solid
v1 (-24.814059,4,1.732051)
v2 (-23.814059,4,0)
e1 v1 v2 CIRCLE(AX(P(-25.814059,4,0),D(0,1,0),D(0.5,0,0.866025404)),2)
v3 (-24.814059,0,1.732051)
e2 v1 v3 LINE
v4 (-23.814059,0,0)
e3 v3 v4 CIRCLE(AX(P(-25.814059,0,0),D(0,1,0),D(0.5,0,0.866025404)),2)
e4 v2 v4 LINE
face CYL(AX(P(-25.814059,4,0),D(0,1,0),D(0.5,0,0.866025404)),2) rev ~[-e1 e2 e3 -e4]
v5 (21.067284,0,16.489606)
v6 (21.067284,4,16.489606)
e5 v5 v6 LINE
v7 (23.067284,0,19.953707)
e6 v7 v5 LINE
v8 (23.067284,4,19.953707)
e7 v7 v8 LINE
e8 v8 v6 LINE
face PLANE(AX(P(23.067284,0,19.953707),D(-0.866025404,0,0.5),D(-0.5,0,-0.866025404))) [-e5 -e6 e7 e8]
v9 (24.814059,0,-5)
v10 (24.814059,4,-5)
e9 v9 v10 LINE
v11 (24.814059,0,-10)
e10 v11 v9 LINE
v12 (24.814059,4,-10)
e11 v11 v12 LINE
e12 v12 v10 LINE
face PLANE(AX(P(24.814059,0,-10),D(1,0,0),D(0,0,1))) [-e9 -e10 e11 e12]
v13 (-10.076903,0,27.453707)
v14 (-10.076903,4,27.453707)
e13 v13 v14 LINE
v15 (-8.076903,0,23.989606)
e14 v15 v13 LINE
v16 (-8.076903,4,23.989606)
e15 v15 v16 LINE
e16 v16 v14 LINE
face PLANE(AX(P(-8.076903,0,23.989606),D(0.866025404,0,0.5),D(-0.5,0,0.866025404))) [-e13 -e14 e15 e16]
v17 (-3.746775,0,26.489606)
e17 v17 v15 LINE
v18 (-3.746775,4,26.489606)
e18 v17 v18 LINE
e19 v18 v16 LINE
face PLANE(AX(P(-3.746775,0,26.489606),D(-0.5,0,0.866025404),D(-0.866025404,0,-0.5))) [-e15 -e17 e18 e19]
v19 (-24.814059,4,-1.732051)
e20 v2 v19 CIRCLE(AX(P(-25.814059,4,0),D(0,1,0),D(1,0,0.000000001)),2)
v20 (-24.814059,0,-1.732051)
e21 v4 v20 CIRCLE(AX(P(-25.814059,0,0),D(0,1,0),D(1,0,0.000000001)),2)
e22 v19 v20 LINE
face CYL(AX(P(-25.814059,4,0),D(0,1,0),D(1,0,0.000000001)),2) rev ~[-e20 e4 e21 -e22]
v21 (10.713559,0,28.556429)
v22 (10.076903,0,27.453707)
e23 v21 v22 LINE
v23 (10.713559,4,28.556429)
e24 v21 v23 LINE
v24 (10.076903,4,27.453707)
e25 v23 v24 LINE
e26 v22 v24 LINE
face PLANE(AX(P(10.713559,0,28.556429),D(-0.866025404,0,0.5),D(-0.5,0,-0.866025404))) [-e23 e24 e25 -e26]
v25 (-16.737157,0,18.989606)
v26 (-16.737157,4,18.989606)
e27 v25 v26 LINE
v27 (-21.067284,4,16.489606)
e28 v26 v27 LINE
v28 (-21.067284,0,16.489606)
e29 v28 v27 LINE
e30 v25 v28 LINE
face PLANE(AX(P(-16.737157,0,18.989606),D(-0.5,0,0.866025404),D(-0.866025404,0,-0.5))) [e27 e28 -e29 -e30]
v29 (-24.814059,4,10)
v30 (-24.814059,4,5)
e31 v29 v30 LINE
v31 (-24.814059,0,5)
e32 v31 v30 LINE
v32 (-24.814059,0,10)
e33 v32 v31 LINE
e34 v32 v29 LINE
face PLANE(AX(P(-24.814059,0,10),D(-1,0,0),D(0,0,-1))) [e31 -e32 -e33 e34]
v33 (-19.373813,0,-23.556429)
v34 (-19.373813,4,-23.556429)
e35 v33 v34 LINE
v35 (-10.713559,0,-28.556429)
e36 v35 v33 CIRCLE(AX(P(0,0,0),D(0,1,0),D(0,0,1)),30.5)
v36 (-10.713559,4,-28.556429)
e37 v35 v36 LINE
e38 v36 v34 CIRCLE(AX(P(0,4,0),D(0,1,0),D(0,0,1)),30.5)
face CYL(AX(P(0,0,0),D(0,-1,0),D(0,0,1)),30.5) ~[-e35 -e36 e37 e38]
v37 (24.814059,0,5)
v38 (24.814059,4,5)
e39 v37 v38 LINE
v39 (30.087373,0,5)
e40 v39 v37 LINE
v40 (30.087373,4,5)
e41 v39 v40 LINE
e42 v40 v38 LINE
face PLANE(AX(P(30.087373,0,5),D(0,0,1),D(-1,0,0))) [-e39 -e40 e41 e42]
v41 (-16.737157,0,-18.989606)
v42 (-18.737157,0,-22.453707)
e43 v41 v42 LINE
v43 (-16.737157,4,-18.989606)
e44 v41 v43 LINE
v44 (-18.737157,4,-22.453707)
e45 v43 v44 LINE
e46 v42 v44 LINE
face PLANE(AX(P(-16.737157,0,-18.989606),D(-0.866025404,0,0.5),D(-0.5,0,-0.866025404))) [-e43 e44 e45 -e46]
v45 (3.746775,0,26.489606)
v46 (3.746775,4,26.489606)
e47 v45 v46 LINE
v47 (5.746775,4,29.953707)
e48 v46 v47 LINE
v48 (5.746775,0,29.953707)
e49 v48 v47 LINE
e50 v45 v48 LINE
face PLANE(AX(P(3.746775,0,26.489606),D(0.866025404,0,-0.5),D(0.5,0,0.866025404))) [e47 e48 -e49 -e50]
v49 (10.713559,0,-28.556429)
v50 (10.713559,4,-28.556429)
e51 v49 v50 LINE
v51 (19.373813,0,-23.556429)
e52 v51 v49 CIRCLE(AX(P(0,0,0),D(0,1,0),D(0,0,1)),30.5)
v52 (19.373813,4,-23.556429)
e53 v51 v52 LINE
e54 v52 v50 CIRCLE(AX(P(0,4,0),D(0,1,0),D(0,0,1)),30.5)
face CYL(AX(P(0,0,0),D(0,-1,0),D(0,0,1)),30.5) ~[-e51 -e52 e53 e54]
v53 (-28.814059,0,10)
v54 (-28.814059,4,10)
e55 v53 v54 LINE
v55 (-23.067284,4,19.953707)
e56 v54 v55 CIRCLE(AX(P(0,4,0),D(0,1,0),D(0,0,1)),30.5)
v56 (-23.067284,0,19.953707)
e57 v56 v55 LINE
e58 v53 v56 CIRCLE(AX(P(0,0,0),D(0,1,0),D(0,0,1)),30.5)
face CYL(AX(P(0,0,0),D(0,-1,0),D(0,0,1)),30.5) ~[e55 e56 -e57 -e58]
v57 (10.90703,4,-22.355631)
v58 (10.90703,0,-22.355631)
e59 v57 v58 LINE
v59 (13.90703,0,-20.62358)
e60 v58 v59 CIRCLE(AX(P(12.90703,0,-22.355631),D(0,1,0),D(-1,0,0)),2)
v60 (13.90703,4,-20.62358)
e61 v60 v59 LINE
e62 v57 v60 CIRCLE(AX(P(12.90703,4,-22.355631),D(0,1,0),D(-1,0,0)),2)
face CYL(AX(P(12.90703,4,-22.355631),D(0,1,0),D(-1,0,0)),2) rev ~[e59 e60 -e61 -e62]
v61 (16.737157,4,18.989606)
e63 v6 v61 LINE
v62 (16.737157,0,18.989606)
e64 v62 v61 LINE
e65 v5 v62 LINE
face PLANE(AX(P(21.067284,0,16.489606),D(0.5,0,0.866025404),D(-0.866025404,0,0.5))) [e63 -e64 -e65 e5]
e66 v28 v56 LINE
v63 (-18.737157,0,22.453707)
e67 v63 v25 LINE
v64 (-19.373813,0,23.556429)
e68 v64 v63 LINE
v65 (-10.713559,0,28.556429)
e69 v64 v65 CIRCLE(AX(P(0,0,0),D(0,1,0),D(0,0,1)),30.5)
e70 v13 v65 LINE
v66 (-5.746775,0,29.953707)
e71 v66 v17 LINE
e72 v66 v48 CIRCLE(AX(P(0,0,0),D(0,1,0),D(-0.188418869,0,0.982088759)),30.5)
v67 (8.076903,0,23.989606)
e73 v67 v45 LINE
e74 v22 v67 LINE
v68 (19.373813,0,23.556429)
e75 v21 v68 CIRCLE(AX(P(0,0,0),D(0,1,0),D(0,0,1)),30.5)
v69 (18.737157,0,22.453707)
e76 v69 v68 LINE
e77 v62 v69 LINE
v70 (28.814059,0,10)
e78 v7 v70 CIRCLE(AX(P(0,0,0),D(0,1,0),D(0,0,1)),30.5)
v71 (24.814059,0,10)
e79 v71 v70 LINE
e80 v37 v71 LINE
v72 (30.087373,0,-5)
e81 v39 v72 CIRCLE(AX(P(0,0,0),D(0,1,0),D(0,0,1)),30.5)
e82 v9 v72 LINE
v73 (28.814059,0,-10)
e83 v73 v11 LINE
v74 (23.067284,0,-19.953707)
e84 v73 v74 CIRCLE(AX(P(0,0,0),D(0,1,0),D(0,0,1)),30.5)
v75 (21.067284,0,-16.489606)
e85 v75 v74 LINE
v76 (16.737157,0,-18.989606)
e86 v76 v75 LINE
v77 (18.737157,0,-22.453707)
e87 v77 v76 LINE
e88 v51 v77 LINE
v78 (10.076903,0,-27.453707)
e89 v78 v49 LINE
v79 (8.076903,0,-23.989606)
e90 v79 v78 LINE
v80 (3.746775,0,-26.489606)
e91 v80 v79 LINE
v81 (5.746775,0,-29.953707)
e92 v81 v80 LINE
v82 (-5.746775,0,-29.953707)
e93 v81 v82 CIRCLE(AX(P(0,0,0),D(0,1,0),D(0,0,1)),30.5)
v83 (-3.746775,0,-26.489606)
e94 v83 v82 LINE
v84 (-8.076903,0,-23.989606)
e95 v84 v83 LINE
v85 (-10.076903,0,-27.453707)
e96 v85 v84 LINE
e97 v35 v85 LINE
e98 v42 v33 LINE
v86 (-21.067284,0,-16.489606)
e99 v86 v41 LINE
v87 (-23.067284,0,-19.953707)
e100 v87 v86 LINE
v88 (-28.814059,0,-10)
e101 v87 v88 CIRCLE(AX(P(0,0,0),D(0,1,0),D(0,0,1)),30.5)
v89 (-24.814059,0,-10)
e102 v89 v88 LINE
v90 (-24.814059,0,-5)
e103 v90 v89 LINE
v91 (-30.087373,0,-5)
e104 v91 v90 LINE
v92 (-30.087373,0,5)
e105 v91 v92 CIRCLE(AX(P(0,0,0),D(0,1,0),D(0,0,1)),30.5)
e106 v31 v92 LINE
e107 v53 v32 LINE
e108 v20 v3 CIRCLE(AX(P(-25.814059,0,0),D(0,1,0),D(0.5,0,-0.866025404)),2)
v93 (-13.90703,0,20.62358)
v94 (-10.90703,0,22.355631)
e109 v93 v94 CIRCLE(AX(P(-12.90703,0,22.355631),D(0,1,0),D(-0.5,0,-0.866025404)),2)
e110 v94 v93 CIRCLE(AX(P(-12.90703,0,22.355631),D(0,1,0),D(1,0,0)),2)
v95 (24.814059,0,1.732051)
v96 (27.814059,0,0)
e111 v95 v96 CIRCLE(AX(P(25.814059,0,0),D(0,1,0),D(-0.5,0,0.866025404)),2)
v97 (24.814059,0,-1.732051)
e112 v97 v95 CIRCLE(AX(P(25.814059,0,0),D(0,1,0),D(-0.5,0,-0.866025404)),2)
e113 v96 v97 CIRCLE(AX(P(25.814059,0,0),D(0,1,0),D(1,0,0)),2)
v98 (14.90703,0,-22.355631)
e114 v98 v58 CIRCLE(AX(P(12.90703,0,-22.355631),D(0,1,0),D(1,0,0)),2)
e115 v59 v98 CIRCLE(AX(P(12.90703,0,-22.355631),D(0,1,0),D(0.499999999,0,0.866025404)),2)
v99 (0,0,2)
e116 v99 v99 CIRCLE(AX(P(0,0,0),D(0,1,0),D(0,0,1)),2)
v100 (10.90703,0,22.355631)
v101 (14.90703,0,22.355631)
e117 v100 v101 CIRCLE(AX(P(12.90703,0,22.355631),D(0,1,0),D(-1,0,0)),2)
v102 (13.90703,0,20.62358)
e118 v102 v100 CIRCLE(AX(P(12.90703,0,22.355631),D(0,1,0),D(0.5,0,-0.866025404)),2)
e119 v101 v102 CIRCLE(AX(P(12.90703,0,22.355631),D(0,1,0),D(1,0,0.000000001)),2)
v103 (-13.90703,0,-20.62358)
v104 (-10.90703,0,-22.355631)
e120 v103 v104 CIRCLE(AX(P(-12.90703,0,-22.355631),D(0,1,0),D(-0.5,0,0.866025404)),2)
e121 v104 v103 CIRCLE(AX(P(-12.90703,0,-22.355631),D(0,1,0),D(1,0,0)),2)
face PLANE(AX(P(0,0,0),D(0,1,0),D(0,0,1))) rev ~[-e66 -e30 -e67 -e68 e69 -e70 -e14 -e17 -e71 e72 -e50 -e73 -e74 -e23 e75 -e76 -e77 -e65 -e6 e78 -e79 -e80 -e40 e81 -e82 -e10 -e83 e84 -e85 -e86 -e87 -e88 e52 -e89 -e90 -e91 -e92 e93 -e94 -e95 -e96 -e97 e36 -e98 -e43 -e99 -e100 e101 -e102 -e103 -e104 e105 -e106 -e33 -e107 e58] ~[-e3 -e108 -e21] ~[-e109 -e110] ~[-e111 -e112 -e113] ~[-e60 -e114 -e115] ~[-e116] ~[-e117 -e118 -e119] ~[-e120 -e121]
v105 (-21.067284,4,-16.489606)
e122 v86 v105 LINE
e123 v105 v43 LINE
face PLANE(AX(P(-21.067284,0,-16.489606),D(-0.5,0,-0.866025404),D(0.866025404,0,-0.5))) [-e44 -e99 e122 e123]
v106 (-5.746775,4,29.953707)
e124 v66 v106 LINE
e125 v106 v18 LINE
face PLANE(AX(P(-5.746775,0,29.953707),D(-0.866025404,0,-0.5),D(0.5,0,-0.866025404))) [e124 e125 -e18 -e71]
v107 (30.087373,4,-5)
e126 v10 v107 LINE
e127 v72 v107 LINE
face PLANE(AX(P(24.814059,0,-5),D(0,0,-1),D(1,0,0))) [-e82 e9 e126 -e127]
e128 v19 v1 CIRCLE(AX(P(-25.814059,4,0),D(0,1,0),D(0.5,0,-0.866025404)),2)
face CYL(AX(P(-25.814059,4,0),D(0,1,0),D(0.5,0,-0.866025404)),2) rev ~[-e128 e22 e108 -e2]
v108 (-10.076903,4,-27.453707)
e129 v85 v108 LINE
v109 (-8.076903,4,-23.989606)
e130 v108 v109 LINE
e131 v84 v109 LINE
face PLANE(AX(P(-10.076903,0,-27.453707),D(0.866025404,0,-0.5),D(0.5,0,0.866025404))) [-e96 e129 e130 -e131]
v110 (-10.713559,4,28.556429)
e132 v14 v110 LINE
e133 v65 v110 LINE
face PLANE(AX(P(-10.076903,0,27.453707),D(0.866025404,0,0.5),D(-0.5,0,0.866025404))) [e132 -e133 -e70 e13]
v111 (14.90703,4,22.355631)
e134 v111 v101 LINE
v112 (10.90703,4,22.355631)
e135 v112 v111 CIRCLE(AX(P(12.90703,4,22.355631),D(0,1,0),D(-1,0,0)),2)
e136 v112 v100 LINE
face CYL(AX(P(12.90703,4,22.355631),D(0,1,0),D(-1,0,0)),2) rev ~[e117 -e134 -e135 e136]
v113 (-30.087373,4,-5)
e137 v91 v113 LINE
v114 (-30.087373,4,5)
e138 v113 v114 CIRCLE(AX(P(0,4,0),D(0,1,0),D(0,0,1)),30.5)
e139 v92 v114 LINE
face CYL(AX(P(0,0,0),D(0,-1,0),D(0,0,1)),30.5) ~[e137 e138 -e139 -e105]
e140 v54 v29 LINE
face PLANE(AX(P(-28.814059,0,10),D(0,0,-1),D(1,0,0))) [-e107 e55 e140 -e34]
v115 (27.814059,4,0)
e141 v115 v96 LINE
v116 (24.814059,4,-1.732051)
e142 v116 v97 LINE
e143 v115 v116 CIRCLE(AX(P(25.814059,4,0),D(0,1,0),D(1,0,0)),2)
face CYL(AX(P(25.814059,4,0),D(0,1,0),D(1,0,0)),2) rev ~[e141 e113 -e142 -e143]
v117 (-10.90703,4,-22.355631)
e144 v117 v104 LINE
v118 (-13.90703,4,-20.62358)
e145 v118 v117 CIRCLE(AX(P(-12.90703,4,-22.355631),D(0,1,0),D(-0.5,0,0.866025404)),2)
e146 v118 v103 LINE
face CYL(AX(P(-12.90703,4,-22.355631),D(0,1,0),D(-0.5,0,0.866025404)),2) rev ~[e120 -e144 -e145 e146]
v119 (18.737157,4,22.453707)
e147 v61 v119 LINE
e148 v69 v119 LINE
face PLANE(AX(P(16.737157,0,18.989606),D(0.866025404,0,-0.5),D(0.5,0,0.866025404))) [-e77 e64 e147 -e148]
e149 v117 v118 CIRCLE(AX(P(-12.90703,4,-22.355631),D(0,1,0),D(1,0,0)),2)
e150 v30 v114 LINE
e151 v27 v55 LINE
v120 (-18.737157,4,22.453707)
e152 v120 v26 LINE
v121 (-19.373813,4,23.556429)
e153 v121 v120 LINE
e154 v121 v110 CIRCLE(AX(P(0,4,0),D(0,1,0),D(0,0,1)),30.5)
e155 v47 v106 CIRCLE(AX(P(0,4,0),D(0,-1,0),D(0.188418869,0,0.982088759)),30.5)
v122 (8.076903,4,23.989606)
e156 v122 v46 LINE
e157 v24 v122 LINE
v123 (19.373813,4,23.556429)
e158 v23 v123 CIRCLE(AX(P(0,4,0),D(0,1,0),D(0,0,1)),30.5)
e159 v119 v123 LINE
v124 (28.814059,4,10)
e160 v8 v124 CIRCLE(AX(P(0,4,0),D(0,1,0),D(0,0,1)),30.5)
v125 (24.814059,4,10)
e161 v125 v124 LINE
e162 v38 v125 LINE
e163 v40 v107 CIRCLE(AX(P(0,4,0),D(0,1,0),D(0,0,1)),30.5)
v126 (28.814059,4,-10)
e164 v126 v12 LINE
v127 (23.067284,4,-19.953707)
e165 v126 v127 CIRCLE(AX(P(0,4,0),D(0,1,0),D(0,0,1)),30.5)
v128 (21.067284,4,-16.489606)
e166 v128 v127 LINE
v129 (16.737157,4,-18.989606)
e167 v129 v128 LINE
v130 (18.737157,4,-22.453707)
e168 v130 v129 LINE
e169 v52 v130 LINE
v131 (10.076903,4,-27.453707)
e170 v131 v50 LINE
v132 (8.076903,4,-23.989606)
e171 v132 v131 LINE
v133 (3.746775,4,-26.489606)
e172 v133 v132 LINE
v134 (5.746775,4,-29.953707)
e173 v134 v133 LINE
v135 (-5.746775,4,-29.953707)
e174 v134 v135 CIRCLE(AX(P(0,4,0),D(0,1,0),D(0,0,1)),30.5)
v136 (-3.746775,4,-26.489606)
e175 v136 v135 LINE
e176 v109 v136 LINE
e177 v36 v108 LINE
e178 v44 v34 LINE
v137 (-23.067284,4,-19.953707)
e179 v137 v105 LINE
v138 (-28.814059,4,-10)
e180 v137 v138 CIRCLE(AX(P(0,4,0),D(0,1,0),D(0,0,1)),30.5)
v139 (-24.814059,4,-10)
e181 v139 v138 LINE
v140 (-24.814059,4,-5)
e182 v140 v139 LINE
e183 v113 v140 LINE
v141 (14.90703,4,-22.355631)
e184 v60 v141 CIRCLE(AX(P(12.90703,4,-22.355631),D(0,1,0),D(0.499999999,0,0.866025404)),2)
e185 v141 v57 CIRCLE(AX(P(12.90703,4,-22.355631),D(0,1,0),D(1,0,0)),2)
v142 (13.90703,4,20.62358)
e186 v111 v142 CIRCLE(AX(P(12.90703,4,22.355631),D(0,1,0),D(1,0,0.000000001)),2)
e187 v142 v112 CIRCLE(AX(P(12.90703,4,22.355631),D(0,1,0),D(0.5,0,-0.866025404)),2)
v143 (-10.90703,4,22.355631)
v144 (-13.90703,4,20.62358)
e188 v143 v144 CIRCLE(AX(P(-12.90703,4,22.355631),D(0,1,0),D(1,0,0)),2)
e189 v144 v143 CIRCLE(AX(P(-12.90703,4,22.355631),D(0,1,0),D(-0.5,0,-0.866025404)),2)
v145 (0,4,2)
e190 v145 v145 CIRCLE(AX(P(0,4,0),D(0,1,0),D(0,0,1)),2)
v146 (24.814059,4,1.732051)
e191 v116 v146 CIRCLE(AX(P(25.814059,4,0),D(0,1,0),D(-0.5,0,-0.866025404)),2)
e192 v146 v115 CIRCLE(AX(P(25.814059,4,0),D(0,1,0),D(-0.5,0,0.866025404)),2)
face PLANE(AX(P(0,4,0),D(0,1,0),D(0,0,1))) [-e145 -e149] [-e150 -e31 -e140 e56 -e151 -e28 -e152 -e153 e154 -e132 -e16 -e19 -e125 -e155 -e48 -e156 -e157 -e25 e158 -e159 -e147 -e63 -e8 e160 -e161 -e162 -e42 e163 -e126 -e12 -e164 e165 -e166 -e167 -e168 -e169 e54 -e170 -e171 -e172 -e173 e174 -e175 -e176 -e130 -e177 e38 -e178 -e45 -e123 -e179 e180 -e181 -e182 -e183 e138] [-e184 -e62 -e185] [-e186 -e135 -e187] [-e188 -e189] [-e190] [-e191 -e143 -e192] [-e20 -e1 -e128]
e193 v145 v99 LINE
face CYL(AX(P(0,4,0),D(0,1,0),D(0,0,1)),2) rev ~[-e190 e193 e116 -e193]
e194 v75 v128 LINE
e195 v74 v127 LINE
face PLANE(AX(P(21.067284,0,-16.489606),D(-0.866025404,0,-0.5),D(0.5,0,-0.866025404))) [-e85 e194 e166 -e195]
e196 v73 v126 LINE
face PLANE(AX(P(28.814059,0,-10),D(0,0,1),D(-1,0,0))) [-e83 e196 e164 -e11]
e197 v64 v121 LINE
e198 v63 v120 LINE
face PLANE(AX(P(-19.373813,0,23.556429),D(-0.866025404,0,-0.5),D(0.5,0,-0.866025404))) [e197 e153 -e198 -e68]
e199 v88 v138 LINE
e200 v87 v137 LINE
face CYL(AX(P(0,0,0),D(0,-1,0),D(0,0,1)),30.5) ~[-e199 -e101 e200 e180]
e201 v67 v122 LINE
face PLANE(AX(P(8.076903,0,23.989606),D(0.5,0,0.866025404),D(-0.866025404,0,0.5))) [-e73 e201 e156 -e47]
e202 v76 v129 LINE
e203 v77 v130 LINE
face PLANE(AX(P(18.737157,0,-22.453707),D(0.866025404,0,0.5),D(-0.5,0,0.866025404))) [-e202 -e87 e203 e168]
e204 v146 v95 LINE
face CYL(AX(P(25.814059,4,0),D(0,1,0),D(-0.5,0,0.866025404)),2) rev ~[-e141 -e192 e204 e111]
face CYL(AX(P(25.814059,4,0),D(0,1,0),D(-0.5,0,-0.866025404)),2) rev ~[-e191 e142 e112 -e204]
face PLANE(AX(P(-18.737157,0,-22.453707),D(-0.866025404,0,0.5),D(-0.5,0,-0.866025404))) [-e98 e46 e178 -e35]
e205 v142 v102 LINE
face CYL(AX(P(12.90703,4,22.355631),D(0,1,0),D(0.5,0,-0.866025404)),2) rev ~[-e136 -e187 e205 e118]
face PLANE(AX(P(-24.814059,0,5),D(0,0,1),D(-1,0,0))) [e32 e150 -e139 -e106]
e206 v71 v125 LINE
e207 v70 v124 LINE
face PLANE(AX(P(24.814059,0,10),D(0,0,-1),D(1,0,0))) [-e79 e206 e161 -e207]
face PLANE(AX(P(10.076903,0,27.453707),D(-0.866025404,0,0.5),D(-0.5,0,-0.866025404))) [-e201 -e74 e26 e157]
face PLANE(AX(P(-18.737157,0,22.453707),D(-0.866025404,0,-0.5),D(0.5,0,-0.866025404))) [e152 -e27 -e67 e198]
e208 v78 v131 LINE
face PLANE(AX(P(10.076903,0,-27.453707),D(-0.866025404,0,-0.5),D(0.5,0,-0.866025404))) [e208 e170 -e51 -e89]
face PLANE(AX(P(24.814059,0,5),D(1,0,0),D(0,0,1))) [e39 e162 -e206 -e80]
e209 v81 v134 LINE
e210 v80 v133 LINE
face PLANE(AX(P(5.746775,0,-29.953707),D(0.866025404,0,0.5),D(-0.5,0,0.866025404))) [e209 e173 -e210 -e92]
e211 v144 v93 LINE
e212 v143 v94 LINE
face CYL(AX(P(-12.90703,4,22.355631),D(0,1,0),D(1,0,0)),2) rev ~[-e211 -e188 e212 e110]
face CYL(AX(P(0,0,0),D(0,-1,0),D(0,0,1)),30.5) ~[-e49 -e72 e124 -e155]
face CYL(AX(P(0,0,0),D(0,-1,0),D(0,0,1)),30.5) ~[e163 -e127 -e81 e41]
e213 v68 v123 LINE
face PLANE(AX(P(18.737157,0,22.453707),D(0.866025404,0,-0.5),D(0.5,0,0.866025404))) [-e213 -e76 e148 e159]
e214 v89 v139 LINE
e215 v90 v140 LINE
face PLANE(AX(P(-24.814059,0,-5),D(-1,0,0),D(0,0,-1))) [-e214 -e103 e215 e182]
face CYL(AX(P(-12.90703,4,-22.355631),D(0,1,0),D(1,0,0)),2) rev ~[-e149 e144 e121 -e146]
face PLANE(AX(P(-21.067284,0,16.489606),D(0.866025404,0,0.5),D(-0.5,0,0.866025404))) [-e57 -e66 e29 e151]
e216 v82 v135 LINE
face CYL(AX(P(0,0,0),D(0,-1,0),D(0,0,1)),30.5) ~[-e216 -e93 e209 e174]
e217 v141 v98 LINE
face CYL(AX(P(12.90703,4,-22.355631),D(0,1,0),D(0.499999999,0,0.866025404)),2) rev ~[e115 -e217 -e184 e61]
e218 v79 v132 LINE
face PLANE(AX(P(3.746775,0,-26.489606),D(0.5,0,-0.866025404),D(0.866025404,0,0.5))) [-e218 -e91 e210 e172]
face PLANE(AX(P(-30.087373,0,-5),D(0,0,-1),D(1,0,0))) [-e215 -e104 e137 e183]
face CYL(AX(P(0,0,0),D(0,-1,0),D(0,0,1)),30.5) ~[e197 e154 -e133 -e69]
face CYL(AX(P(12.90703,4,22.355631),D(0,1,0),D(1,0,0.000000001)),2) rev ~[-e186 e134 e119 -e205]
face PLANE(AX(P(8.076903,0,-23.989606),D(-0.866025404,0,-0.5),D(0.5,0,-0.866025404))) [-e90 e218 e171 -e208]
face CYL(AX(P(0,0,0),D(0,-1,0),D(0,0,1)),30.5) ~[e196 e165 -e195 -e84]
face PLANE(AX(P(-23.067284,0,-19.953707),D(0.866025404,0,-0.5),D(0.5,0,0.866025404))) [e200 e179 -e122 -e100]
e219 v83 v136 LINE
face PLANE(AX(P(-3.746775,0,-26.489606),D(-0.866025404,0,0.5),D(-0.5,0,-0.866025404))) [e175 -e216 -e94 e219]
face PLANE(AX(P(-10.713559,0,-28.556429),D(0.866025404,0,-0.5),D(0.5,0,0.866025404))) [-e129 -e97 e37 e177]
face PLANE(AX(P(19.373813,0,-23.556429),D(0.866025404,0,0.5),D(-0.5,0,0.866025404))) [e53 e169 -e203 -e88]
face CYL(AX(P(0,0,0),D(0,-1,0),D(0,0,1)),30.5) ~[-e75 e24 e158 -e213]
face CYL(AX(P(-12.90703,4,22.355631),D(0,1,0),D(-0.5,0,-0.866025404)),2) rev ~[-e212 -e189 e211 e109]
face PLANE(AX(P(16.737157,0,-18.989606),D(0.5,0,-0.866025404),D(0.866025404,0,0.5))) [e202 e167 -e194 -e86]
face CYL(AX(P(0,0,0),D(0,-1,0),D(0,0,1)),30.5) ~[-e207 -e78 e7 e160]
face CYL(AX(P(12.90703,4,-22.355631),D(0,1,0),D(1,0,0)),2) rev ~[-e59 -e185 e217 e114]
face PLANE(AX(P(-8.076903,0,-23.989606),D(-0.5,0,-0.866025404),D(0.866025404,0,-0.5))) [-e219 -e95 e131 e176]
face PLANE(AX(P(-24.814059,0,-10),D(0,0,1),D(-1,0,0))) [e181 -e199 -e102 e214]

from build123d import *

# Parameters (mm, degrees)
CROQUIS1_R              = 30.5
SALIENTE_EXTRUIR1_DEPTH = 4
CROQUIS2_R              = 2
CORTAR_EXTRUIR1_DEPTH   = 4
CORTAR_EXTRUIR3_START   = -4
CORTAR_EXTRUIR3_DEPTH   = 4
CORTAR_EXTRUIR4_DEPTH   = 10


with BuildPart() as part:
    # Croquis1 → Saliente-Extruir1 (new body)
    with BuildSketch(Plane(origin=(0, 0, 0), x_dir=(1, 0, 0), z_dir=(0, 1, 0))):
        with Locations(Location((0, 0, 0), (0, 0, 270))):
            Circle(CROQUIS1_R)
    extrude(amount=SALIENTE_EXTRUIR1_DEPTH)

    # Croquis2 → Cortar-Extruir1 (cut)
    with BuildSketch(Plane(origin=(0, 4, 0), x_dir=(1, 0, 0), z_dir=(0, 1, 0))):
        with Locations(Location((0, 0, 0), (0, 0, 270))):
            Circle(CROQUIS2_R)
    extrude(amount=-CORTAR_EXTRUIR1_DEPTH, mode=Mode.SUBTRACT)

    # Croquis5 → Cortar-Extruir3 (cut)
    with BuildSketch(Plane(origin=(0, 4, 0), x_dir=(1, 0, 0), z_dir=(0, 1, 0)).offset(CORTAR_EXTRUIR3_START)):
        with BuildLine():
            ThreePointArc((-28.814059068, 10), (-29.556634924, 7.526973624), (-30.087372767, 5))
            Line((-30.087372767, 5), (-28.814059068, 5))
            Line((-28.814059068, 5), (-24.814059068, 5))
            Line((-24.814059068, 5), (-24.814059068, 10))
            Line((-24.814059068, 10), (-28.814059068, 10))
        make_face()
        with BuildLine():
            Line((28.814059068, 5), (30.087372767, 5))
            ThreePointArc((30.087372767, 5), (29.556634924, 7.526973624), (28.814059068, 10))
            Line((28.814059068, 10), (24.814059068, 10))
            Line((24.814059068, 10), (24.814059068, 5))
            Line((24.814059068, 5), (28.814059068, 5))
        make_face()
        with BuildLine():
            Line((30.087372767, -5), (28.814059068, -5))
            Line((28.814059068, -5), (24.814059068, -5))
            Line((24.814059068, -5), (24.814059068, -10))
            Line((24.814059068, -10), (28.814059068, -10))
            ThreePointArc((28.814059068, -10), (29.556634924, -7.526973624), (30.087372767, -5))
        make_face()
        with BuildLine():
            ThreePointArc((19.373813402, -23.556429149), (21.296867835, -21.833309883), (23.067283572, -19.953707139))
            Line((23.067283572, -19.953707139), (21.067283572, -16.489605524))
            Line((21.067283572, -16.489605524), (16.737156553, -18.989605524))
            Line((16.737156553, -18.989605524), (18.737156553, -22.453707139))
            Line((18.737156553, -22.453707139), (19.373813402, -23.556429149))
        make_face()
        with BuildLine():
            ThreePointArc((5.746775496, -29.953707139), (8.25976709, -29.360283507), (10.713559364, -28.556429149))
            Line((10.713559364, -28.556429149), (10.076902515, -27.453707139))
            Line((10.076902515, -27.453707139), (8.076902515, -23.989605524))
            Line((8.076902515, -23.989605524), (3.746775496, -26.489605524))
            Line((3.746775496, -26.489605524), (5.746775496, -29.953707139))
        make_face()
        with BuildLine():
            ThreePointArc((-10.713559364, -28.556429149), (-8.25976709, -29.360283507), (-5.746775496, -29.953707139))
            Line((-5.746775496, -29.953707139), (-3.746775496, -26.489605524))
            Line((-3.746775496, -26.489605524), (-8.076902515, -23.989605524))
            Line((-8.076902515, -23.989605524), (-10.076902515, -27.453707139))
            Line((-10.076902515, -27.453707139), (-10.713559364, -28.556429149))
        make_face()
        with BuildLine():
            ThreePointArc((-23.067283572, -19.953707139), (-21.296867835, -21.833309883), (-19.373813402, -23.556429149))
            Line((-19.373813402, -23.556429149), (-18.737156553, -22.453707139))
            Line((-18.737156553, -22.453707139), (-16.737156553, -18.989605524))
            Line((-16.737156553, -18.989605524), (-21.067283572, -16.489605524))
            Line((-21.067283572, -16.489605524), (-23.067283572, -19.953707139))
        make_face()
        with BuildLine():
            ThreePointArc((-30.087372767, -5), (-29.556634924, -7.526973624), (-28.814059068, -10))
            Line((-28.814059068, -10), (-24.814059068, -10))
            Line((-24.814059068, -10), (-24.814059068, -5))
            Line((-24.814059068, -5), (-28.814059068, -5))
            Line((-28.814059068, -5), (-30.087372767, -5))
        make_face()
        with BuildLine():
            Line((-18.737156553, 22.453707139), (-19.373813402, 23.556429149))
            ThreePointArc((-19.373813402, 23.556429149), (-21.296867835, 21.833309883), (-23.067283572, 19.953707139))
            Line((-23.067283572, 19.953707139), (-21.067283572, 16.489605524))
            Line((-21.067283572, 16.489605524), (-16.737156553, 18.989605524))
            Line((-16.737156553, 18.989605524), (-18.737156553, 22.453707139))
        make_face()
        with BuildLine():
            Line((-3.746775496, 26.489605524), (-5.746775496, 29.953707139))
            ThreePointArc((-5.746775496, 29.953707139), (-8.25976709, 29.360283507), (-10.713559364, 28.556429149))
            Line((-10.713559364, 28.556429149), (-10.076902515, 27.453707139))
            Line((-10.076902515, 27.453707139), (-8.076902515, 23.989605524))
            Line((-8.076902515, 23.989605524), (-3.746775496, 26.489605524))
        make_face()
        with BuildLine():
            Line((10.076902515, 27.453707139), (10.713559364, 28.556429149))
            ThreePointArc((10.713559364, 28.556429149), (8.25976709, 29.360283507), (5.746775496, 29.953707139))
            Line((5.746775496, 29.953707139), (3.746775496, 26.489605524))
            Line((3.746775496, 26.489605524), (8.076902515, 23.989605524))
            Line((8.076902515, 23.989605524), (10.076902515, 27.453707139))
        make_face()
        with BuildLine():
            Line((21.067283572, 16.489605524), (23.067283572, 19.953707139))
            ThreePointArc((23.067283572, 19.953707139), (21.296867835, 21.833309883), (19.373813402, 23.556429149))
            Line((19.373813402, 23.556429149), (18.737156553, 22.453707139))
            Line((18.737156553, 22.453707139), (16.737156553, 18.989605524))
            Line((16.737156553, 18.989605524), (21.067283572, 16.489605524))
        make_face()
    extrude(amount=CORTAR_EXTRUIR3_DEPTH, mode=Mode.SUBTRACT)

    # Croquis7 → Cortar-Extruir4 (cut)
    with BuildSketch(Plane(origin=(0, 4, 0), x_dir=(1, 0, 0), z_dir=(0, 1, 0))):
        with BuildLine():
            ThreePointArc((-13.907029535, 20.623580122), (-11.907029535, 20.623580122), (-10.907029535, 22.355630929))
            Line((-10.907029535, 22.355630929), (-12.907029535, 22.355630929))
            Line((-12.907029535, 22.355630929), (-13.907029535, 20.623580122))
        make_face()
        with BuildLine():
            Line((-12.907029535, 22.355630929), (-10.907029535, 22.355630929))
            ThreePointArc((-10.907029535, 22.355630929), (-13.907029535, 24.087681737), (-13.907029535, 20.623580122))
            Line((-13.907029535, 20.623580122), (-12.907029535, 22.355630929))
        make_face()
        with BuildLine():
            ThreePointArc((-23.81405907, 0), (-24.082008262, 1), (-24.81405907, 1.732050808))
            Line((-24.81405907, 1.732050808), (-25.81405907, 0))
            Line((-25.81405907, 0), (-24.81405907, -1.732050808))
            ThreePointArc((-24.81405907, -1.732050808), (-24.082008262, -1), (-23.81405907, 0))
        make_face()
        with BuildLine():
            Line((-25.81405907, 0), (-24.81405907, 1.732050808))
            ThreePointArc((-24.81405907, 1.732050808), (-27.81405907, 0), (-24.81405907, -1.732050808))
            Line((-24.81405907, -1.732050808), (-25.81405907, 0))
        make_face()
        with BuildLine():
            ThreePointArc((10.907029535, 22.355630929), (11.907029535, 20.623580122), (13.907029535, 20.623580122))
            Line((13.907029535, 20.623580122), (12.907029535, 22.355630929))
            Line((12.907029535, 22.355630929), (10.907029535, 22.355630929))
        make_face()
        with BuildLine():
            Line((12.907029535, 22.355630929), (13.907029535, 20.623580122))
            ThreePointArc((13.907029535, 20.623580122), (14.639080343, 21.355630929), (14.907029535, 22.355630929))
            ThreePointArc((14.907029535, 22.355630929), (12.907029535, 24.355630929), (10.907029535, 22.355630929))
            Line((10.907029535, 22.355630929), (12.907029535, 22.355630929))
        make_face()
        with BuildLine():
            Line((24.81405907, -1.732050808), (25.81405907, 0))
            Line((25.81405907, 0), (24.81405907, 1.732050808))
            ThreePointArc((24.81405907, 1.732050808), (23.81405907, 0), (24.81405907, -1.732050808))
        make_face()
        with BuildLine():
            Line((24.81405907, 1.732050808), (25.81405907, 0))
            Line((25.81405907, 0), (24.81405907, -1.732050808))
            ThreePointArc((24.81405907, -1.732050808), (26.81405907, -1.732050808), (27.81405907, 0))
            ThreePointArc((27.81405907, 0), (26.81405907, 1.732050808), (24.81405907, 1.732050808))
        make_face()
        with BuildLine():
            ThreePointArc((-13.907029535, -20.623580122), (-13.907029535, -24.087681737), (-10.907029535, -22.355630929))
            Line((-10.907029535, -22.355630929), (-12.907029535, -22.355630929))
            Line((-12.907029535, -22.355630929), (-13.907029535, -20.623580122))
        make_face()
        with BuildLine():
            Line((-12.907029535, -22.355630929), (-10.907029535, -22.355630929))
            ThreePointArc((-10.907029535, -22.355630929), (-11.907029535, -20.623580122), (-13.907029535, -20.623580122))
            Line((-13.907029535, -20.623580122), (-12.907029535, -22.355630929))
        make_face()
        with BuildLine():
            ThreePointArc((14.907029535, -22.355630929), (14.639080343, -21.355630929), (13.907029535, -20.623580122))
            Line((13.907029535, -20.623580122), (12.907029535, -22.355630929))
            Line((12.907029535, -22.355630929), (10.907029535, -22.355630929))
            ThreePointArc((10.907029535, -22.355630929), (12.907029535, -24.355630929), (14.907029535, -22.355630929))
        make_face()
        with BuildLine():
            Line((12.907029535, -22.355630929), (13.907029535, -20.623580122))
            ThreePointArc((13.907029535, -20.623580122), (11.907029535, -20.623580122), (10.907029535, -22.355630929))
            Line((10.907029535, -22.355630929), (12.907029535, -22.355630929))
        make_face()
    extrude(amount=-CORTAR_EXTRUIR4_DEPTH, mode=Mode.SUBTRACT)


solid = part.part
